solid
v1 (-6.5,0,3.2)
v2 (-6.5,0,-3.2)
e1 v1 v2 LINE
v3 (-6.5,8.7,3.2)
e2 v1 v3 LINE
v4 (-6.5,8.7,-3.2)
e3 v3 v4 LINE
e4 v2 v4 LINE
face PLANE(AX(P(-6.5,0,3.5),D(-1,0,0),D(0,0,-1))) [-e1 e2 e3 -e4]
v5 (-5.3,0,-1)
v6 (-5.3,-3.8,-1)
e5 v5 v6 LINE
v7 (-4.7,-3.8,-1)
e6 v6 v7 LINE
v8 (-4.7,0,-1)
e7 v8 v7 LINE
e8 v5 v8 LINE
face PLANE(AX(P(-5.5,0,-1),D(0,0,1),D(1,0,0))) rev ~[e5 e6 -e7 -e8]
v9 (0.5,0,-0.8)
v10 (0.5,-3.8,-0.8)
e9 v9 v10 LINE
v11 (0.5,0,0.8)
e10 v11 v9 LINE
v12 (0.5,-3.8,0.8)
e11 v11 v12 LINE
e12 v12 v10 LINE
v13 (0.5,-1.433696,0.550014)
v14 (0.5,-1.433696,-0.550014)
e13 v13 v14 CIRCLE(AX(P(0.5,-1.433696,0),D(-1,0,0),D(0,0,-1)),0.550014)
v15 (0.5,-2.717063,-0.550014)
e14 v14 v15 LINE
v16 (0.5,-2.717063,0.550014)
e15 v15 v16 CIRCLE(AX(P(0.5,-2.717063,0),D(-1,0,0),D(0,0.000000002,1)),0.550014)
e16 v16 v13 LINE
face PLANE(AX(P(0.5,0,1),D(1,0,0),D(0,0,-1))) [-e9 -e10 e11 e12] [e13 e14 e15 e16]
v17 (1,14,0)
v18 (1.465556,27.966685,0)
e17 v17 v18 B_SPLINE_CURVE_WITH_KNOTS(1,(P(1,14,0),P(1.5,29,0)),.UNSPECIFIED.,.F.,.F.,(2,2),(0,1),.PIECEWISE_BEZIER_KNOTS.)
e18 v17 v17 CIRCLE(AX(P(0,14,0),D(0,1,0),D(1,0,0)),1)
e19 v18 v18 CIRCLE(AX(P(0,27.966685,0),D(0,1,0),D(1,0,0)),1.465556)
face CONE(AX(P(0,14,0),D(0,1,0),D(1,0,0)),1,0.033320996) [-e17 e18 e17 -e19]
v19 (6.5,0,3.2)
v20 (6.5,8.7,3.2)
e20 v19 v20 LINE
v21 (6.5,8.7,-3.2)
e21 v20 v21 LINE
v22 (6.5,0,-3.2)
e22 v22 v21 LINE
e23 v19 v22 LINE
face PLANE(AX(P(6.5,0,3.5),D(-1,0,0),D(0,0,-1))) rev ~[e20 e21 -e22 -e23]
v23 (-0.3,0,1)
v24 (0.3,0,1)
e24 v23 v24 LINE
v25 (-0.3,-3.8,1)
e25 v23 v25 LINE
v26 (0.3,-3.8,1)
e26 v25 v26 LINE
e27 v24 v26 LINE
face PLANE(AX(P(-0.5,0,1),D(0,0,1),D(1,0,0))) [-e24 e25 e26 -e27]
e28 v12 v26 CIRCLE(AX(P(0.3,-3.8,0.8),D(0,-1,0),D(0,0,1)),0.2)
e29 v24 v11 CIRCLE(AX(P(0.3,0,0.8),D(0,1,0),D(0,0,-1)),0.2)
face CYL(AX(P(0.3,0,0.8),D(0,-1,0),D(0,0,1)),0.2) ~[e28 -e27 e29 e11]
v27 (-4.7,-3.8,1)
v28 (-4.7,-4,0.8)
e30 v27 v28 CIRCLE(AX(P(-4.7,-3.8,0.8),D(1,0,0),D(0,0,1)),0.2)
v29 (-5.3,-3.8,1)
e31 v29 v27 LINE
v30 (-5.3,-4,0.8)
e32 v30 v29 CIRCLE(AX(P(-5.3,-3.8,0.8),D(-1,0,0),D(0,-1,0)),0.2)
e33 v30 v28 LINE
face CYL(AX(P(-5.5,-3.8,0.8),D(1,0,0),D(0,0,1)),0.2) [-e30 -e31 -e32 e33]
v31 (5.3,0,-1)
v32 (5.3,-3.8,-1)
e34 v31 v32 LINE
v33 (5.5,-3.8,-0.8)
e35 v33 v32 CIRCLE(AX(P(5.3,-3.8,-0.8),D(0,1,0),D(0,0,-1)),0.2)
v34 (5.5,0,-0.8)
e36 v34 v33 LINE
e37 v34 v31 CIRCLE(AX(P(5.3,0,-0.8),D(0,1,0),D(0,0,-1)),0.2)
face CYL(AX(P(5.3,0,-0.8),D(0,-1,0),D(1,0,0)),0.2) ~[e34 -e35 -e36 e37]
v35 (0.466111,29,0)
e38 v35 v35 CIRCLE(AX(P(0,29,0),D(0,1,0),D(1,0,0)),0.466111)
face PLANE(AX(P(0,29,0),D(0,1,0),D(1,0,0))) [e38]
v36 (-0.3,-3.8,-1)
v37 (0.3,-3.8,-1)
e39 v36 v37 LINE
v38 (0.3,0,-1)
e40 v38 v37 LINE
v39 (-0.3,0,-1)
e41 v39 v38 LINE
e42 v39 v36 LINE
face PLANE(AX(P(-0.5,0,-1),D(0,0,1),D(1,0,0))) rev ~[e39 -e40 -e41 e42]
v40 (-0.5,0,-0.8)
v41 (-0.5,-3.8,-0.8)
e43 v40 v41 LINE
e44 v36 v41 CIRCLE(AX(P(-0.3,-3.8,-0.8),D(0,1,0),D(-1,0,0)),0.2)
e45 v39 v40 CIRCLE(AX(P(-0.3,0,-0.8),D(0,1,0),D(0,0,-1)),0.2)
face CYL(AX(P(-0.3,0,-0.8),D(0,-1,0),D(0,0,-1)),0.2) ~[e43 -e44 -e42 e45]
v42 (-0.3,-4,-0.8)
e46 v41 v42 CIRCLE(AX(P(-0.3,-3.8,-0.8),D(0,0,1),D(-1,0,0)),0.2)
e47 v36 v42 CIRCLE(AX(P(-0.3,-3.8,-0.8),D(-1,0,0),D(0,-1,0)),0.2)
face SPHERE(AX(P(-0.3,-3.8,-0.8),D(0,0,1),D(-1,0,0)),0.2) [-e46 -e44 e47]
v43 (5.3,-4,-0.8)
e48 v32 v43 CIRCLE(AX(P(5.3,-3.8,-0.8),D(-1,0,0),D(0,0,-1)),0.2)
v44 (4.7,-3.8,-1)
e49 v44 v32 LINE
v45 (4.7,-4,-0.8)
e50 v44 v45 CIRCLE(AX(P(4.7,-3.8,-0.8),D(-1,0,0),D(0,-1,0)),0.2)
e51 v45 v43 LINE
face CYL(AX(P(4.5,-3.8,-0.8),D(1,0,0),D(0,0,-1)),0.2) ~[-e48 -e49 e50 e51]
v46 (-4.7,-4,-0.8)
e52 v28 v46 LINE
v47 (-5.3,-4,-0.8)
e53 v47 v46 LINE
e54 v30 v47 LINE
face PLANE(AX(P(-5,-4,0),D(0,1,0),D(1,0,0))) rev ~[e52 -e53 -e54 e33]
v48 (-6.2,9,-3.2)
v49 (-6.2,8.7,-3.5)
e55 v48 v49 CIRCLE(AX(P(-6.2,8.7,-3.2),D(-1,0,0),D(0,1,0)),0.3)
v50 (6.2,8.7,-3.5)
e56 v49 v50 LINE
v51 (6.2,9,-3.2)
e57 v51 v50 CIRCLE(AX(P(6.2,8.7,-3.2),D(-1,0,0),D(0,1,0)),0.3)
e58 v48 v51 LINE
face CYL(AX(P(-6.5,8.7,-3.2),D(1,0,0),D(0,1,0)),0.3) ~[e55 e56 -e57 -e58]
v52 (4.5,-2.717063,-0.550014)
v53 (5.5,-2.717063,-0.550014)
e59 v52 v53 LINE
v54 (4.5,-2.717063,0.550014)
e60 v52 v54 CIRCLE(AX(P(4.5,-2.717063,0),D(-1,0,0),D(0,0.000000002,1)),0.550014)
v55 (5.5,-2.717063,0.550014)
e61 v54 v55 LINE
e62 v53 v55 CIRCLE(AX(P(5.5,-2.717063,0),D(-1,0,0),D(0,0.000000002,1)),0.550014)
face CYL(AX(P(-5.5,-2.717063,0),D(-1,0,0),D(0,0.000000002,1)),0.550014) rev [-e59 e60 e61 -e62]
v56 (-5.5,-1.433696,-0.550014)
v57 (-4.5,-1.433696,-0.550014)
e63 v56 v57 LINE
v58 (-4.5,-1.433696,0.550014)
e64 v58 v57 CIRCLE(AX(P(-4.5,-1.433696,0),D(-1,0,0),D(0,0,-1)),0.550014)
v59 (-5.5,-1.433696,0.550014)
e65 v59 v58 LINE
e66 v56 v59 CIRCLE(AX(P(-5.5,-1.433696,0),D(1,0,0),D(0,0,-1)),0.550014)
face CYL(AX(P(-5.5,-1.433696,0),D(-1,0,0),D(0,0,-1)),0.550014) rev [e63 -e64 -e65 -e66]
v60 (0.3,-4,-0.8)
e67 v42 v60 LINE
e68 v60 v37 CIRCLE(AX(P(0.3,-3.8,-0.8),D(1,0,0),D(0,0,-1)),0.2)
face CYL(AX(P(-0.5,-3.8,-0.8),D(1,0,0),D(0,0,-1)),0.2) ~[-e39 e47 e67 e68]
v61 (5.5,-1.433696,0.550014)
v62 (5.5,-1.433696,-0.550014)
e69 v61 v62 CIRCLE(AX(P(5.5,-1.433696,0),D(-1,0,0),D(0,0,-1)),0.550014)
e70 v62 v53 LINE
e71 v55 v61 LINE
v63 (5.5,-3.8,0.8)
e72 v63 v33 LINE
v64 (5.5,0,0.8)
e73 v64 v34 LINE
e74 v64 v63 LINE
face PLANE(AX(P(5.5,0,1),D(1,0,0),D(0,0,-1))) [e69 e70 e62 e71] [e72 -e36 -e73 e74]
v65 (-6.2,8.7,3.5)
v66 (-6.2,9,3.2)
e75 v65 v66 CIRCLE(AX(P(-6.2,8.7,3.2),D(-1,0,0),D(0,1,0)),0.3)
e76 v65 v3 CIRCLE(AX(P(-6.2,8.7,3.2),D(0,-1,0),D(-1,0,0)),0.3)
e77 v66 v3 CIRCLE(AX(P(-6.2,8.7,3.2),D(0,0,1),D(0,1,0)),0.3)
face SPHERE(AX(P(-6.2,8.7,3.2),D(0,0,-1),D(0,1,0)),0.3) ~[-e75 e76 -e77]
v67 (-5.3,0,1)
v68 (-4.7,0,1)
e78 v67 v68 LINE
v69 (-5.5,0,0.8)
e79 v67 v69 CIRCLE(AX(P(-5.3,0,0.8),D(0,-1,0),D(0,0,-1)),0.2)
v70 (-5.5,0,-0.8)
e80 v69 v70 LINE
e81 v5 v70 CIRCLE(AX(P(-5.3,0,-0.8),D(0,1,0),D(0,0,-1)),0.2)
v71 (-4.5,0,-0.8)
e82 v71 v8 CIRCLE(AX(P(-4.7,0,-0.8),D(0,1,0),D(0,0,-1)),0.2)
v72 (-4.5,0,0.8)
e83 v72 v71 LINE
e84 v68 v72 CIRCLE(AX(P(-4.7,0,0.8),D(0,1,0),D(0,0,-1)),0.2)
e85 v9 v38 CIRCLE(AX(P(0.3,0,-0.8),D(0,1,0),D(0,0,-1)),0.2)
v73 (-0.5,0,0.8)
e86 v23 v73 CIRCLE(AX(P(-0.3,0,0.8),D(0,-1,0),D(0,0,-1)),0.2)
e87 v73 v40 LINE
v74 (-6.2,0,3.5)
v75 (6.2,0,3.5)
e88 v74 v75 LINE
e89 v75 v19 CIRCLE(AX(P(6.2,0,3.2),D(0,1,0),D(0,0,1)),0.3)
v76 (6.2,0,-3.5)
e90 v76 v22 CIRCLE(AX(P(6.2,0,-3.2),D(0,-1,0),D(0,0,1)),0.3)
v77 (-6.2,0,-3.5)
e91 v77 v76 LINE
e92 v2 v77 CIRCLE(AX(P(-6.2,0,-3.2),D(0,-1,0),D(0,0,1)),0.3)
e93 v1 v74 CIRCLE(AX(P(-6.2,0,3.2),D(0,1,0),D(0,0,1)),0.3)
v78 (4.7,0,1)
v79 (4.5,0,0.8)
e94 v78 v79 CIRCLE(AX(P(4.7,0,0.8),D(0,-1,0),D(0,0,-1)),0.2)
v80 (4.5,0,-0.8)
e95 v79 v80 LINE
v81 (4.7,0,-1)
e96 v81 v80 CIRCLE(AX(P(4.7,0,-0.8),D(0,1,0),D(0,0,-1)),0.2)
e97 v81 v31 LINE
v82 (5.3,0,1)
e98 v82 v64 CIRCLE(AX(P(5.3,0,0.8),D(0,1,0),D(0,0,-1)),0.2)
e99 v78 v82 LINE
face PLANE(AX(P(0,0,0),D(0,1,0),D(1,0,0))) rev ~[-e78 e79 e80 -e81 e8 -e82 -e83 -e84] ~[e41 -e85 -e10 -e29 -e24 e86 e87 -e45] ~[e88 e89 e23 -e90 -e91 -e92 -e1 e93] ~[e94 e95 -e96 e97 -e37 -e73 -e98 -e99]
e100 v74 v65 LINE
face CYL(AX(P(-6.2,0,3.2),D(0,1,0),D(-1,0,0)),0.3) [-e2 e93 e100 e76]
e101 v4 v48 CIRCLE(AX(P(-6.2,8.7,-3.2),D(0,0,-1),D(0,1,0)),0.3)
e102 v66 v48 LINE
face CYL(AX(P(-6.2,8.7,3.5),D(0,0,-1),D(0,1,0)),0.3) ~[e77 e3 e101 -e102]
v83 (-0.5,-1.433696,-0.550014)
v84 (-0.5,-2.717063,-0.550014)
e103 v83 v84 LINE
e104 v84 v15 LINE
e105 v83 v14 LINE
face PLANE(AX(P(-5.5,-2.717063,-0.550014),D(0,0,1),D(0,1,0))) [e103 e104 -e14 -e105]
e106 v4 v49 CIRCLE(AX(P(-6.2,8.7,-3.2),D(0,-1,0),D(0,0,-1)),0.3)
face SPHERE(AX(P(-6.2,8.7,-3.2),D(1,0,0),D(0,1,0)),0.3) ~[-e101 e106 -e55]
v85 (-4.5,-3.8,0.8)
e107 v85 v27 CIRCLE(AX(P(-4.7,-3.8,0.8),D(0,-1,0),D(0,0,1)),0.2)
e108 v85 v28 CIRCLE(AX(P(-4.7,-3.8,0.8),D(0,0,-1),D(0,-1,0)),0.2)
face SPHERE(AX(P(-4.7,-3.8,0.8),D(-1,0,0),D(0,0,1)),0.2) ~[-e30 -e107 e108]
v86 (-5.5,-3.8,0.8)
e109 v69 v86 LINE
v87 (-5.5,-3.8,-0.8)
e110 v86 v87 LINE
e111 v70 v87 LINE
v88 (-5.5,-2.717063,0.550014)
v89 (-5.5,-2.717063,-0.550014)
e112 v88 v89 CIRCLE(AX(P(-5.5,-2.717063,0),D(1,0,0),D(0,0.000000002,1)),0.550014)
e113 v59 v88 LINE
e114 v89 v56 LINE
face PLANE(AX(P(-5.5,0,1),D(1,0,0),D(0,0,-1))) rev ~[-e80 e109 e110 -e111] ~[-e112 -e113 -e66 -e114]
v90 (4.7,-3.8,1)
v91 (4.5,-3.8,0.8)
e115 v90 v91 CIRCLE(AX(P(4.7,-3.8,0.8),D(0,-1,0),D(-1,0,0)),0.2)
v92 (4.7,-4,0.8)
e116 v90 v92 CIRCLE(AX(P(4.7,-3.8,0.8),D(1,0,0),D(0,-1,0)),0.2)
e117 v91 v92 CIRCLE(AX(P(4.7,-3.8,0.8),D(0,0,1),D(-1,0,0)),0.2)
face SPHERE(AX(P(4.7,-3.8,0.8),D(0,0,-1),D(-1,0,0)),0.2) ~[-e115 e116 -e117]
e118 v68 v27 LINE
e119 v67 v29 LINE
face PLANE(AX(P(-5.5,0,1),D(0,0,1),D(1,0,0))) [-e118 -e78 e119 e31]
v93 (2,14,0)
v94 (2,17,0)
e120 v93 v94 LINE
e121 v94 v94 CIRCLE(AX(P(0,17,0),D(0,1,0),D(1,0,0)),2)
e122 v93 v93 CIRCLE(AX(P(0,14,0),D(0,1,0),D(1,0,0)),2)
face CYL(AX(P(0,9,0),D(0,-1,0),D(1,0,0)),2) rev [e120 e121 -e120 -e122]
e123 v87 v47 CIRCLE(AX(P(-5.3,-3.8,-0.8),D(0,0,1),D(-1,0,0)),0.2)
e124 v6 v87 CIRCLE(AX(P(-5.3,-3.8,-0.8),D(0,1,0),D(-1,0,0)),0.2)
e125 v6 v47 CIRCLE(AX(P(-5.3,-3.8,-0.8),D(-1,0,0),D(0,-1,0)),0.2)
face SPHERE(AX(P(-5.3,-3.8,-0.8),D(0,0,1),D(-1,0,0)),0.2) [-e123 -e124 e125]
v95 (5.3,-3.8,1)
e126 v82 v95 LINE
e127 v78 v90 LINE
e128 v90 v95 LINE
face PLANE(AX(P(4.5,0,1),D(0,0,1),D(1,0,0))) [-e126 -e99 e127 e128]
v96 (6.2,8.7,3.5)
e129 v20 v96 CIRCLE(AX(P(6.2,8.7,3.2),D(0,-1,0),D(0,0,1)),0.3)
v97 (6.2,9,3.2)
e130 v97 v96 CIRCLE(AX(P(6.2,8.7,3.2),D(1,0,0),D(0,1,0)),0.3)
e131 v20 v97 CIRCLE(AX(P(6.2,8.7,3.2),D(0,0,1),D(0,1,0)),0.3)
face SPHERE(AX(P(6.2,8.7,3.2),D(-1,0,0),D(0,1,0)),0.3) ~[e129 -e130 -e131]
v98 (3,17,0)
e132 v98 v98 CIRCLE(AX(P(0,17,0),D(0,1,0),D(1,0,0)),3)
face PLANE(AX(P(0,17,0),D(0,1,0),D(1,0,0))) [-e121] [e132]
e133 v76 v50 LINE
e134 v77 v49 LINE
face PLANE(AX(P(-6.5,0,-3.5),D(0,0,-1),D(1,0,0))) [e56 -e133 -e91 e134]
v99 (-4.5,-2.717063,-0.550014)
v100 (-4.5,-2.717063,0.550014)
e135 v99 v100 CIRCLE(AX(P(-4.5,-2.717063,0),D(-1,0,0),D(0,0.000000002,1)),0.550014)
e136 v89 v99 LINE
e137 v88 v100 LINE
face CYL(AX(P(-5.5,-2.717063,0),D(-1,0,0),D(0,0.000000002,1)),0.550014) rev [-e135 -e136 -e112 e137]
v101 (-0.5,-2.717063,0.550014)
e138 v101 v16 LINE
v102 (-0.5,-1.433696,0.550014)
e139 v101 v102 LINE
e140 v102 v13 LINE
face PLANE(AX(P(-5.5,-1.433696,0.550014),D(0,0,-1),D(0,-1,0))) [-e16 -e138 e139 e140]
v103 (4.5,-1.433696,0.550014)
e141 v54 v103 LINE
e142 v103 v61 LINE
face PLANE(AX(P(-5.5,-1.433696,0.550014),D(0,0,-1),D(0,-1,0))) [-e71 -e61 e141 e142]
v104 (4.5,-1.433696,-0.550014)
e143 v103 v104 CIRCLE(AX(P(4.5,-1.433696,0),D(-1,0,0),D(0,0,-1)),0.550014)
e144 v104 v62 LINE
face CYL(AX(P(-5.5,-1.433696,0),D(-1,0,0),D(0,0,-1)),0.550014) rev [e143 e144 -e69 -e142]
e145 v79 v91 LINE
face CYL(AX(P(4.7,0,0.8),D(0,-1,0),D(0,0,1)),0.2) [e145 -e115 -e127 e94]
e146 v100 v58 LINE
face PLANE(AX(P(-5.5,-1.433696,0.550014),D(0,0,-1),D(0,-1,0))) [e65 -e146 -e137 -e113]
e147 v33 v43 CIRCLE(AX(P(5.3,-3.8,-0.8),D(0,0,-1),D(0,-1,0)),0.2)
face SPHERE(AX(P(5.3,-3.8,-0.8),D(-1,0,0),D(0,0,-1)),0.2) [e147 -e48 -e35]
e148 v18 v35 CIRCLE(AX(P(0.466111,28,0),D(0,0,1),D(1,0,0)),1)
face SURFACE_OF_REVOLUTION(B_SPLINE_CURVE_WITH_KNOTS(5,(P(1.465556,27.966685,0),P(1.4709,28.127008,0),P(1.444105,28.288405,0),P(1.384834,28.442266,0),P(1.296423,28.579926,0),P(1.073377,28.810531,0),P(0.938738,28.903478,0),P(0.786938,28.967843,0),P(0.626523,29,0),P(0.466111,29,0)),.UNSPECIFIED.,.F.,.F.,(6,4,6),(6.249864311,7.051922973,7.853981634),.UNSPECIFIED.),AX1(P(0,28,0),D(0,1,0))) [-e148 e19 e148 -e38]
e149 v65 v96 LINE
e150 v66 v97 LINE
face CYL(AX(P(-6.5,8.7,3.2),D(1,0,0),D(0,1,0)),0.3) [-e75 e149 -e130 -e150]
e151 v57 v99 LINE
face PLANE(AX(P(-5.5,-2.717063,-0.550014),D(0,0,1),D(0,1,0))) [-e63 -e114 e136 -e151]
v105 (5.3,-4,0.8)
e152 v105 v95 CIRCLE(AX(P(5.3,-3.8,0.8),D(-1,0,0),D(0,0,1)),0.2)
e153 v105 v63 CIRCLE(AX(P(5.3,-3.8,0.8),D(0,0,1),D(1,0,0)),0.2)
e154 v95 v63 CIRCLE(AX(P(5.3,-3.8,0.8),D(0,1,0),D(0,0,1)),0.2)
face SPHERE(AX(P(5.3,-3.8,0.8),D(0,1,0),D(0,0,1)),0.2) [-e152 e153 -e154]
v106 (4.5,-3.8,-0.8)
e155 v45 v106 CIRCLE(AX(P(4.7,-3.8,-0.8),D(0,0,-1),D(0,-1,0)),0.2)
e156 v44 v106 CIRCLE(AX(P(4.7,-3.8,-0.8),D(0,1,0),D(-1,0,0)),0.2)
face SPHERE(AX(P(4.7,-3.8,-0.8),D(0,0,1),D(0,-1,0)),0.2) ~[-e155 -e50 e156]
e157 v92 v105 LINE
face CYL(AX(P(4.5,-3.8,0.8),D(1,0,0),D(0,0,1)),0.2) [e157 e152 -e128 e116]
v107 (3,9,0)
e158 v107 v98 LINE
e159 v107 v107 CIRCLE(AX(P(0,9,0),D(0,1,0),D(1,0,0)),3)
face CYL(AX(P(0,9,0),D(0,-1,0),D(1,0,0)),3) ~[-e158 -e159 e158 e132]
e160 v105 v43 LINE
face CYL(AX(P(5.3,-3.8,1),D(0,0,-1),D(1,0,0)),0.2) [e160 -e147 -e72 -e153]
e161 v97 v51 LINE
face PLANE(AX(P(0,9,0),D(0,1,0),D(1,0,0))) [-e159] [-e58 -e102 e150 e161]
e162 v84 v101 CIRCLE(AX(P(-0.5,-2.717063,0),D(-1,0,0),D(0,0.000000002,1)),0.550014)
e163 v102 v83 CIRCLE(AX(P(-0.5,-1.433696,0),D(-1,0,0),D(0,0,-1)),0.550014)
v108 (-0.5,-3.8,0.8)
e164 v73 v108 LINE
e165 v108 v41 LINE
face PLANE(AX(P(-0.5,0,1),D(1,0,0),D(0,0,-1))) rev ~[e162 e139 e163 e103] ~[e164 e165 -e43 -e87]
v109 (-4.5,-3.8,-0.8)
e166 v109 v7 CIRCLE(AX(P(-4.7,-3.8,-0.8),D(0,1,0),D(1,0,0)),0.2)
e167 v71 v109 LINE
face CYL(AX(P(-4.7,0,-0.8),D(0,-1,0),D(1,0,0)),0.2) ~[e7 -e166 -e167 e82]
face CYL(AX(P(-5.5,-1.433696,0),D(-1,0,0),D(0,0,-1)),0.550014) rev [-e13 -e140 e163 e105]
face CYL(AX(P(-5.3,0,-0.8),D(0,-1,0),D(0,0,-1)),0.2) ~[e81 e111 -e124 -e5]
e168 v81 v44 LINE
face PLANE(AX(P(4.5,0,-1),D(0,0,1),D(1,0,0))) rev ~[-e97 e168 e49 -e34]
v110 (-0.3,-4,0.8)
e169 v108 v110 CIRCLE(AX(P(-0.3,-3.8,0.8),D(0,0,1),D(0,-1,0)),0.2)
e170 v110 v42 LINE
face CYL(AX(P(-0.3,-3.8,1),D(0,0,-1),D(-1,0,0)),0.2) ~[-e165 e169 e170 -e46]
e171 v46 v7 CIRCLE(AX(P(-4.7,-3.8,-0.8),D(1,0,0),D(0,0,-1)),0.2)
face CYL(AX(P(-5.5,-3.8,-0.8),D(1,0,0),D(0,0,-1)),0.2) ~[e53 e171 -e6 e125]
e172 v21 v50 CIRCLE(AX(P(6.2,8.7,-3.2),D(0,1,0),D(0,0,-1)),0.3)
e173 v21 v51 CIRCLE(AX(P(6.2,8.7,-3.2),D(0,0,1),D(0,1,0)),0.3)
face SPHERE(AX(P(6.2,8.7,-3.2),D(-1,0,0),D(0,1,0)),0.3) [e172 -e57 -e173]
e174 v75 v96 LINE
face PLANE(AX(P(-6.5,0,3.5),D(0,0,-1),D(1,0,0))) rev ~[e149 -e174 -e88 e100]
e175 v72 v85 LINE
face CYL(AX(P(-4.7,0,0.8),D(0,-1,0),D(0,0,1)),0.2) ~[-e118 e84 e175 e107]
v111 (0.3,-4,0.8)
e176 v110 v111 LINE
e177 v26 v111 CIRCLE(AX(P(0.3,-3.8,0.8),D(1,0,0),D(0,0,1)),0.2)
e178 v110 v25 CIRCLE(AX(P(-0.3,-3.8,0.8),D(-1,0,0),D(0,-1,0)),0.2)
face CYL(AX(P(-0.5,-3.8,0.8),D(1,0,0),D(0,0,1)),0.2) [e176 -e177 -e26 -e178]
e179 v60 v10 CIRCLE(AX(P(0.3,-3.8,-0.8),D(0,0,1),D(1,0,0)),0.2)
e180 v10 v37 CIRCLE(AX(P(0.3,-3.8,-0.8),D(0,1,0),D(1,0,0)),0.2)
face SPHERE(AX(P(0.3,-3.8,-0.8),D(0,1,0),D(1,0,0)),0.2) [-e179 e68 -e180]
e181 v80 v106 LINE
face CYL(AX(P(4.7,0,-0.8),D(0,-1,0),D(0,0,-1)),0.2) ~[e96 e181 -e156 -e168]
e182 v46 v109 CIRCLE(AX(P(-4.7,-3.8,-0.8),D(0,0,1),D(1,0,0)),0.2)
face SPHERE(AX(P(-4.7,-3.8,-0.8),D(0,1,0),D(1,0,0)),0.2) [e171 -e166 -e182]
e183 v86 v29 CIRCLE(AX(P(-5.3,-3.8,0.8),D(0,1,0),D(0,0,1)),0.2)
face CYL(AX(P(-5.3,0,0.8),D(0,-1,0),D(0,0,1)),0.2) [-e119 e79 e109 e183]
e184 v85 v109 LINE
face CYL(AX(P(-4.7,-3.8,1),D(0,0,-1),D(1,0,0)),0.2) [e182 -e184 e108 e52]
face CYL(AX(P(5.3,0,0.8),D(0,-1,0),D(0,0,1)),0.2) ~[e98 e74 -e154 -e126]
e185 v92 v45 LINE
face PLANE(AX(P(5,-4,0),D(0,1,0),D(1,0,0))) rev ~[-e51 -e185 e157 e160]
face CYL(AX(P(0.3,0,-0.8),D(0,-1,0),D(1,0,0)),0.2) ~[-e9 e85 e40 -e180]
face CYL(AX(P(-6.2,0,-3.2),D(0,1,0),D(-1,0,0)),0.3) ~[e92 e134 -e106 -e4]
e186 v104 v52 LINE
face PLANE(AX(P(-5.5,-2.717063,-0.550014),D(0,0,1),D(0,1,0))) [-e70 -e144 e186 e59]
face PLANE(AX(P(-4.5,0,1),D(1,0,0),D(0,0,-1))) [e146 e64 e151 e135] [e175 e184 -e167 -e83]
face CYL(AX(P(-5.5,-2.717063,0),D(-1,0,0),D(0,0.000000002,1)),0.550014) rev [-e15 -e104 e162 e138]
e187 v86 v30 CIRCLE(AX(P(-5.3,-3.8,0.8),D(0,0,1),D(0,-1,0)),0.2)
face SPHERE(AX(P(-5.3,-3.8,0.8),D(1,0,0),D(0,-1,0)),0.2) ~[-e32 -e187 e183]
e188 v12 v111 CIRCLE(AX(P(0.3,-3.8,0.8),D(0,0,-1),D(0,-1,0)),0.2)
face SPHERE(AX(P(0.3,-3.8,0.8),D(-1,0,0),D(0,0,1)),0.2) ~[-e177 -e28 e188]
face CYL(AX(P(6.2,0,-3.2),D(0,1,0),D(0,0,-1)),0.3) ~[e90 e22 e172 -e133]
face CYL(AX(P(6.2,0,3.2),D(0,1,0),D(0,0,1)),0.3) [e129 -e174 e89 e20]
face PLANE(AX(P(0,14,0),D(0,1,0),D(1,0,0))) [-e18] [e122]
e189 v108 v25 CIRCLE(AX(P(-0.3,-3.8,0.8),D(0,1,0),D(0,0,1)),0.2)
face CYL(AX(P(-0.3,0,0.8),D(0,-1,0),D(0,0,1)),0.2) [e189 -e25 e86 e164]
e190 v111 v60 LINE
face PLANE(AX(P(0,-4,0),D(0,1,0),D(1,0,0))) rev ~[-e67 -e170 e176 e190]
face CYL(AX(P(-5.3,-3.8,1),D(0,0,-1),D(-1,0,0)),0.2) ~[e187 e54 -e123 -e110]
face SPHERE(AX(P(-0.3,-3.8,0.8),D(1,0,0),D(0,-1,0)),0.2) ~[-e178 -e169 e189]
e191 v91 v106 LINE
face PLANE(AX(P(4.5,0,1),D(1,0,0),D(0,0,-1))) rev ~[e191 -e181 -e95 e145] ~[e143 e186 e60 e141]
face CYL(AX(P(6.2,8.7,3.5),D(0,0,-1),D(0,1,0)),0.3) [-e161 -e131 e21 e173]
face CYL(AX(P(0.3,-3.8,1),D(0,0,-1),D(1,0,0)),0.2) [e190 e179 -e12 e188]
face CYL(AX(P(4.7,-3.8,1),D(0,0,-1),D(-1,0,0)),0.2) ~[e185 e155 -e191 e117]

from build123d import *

# Parameters (mm, degrees)
SKETCH1_W           = 13
SKETCH1_H           = 7
BOSS_EXTRUDE1_DEPTH = 9
SKETCH1_3_W         = 1
SKETCH1_3_H         = 2
BOSS_EXTRUDE2_DEPTH = 4
SKETCH2_R           = 3
SKETCH2_R_2         = 2
BOSS_EXTRUDE3_DEPTH = 8
SKETCH2_6_R         = 2
BOSS_EXTRUDE4_DEPTH = 5
SKETCH4_R           = 1
SKETCH3_R           = 1.5
FILLET1_R           = 1
CUT_EXTRUDE1_DEPTH  = 12
FILLET2_R           = 0.3
FILLET3_R           = 0.2


with BuildPart() as part:
    # Sketch1 → Boss-Extrude1 (new body)
    with BuildSketch(Plane(origin=(0, 0, 0), x_dir=(1, 0, 0), z_dir=(0, 1, 0))):
        Rectangle(SKETCH1_W, SKETCH1_H)
    extrude(amount=BOSS_EXTRUDE1_DEPTH)

    # Sketch1<3> → Boss-Extrude2 (add)
    with BuildSketch(Plane(origin=(0, 0, 0), x_dir=(1, 0, 0), z_dir=(0, 1, 0))):
        Rectangle(SKETCH1_3_W, SKETCH1_3_H)
        with Locations((5, 0)):
            Rectangle(SKETCH1_3_W, SKETCH1_3_H)
        with Locations((-5, 0)):
            Rectangle(SKETCH1_3_W, SKETCH1_3_H)
    extrude(amount=-BOSS_EXTRUDE2_DEPTH)

    # Sketch2 → Boss-Extrude3 (add)
    with BuildSketch(Plane(origin=(0, 9, 0), x_dir=(1, 0, 0), z_dir=(0, 1, 0))):
        Circle(SKETCH2_R)
        Circle(SKETCH2_R_2, mode=Mode.SUBTRACT)
    extrude(amount=BOSS_EXTRUDE3_DEPTH)

    # Sketch2<6> → Boss-Extrude4 (add)
    with BuildSketch(Plane(origin=(0, 9, 0), x_dir=(1, 0, 0), z_dir=(0, 1, 0))):
        Circle(SKETCH2_6_R)
    extrude(amount=BOSS_EXTRUDE4_DEPTH)

    # Sketch4 → Loft1 section 0
    with BuildSketch(Plane(origin=(0, 14, 0), x_dir=(1, 0, 0), z_dir=(0, 1, 0))):
        Circle(SKETCH4_R)
    # Sketch3 → Loft1 section 1
    with BuildSketch(Plane(origin=(0, 29, 0), x_dir=(1, 0, 0), z_dir=(0, 1, 0))):
        Circle(SKETCH3_R)
    loft()

    # Fillet1
    fillet1_edges = [part.edges().sort_by_distance(p)[0] for p in [
        (-1.5, 29, 0),
    ]]
    fillet(fillet1_edges, radius=FILLET1_R)

    # Sketch5 → Cut-Extrude1 (cut)
    with BuildSketch(Plane.ZY.offset(5.5)):
        with BuildLine():
            Line((0.550014323, -1.43369619), (0.550014323, -2.717062944))
            ThreePointArc((0.550014323, -2.717062944), (0, -3.267077268), (-0.550014323, -2.717062944))
            Line((-0.550014323, -2.717062944), (-0.550014323, -1.43369619))
            ThreePointArc((-0.550014323, -1.43369619), (0, -0.883681867), (0.550014323, -1.43369619))
        make_face()
    extrude(amount=-CUT_EXTRUDE1_DEPTH, mode=Mode.SUBTRACT)

    # Fillet2
    fillet2_edges = [part.edges().sort_by_distance(p)[0] for p in [
        (6.5, 4.5, -3.5),
        (-6.5, 4.5, -3.5),
        (-6.5, 9, 0),
        (6.5, 4.5, 3.5),
        (0, 9, 3.5),
        (-6.5, 4.5, 3.5),
        (0, 9, -3.5),
        (6.5, 9, 0),
    ]]
    fillet(fillet2_edges, radius=FILLET2_R)

    # Fillet3
    fillet3_edges = [part.edges().sort_by_distance(p)[0] for p in [
        (-4.5, -2, 1),
        (-5.5, -2, 1),
        (-5.5, -4, 0),
        (-5, -4, 1),
        (-4.5, -4, 0),
        (-5, -4, -1),
        (-4.5, -2, -1),
        (-5.5, -2, -1),
        (0.5, -2, 1),
        (0.5, -4, 0),
        (0, -4, 1),
        (5, -4, 1),
        (5, -4, -1),
        (0, -4, -1),
        (0.5, -2, -1),
        (-0.5, -2, 1),
        (-0.5, -4, 0),
        (-0.5, -2, -1),
        (4.5, -2, 1),
        (4.5, -4, 0),
        (4.5, -2, -1),
        (5.5, -2, 1),
        (5.5, -4, 0),
        (5.5, -2, -1),
    ]]
    fillet(fillet3_edges, radius=FILLET3_R)


solid = part.part
